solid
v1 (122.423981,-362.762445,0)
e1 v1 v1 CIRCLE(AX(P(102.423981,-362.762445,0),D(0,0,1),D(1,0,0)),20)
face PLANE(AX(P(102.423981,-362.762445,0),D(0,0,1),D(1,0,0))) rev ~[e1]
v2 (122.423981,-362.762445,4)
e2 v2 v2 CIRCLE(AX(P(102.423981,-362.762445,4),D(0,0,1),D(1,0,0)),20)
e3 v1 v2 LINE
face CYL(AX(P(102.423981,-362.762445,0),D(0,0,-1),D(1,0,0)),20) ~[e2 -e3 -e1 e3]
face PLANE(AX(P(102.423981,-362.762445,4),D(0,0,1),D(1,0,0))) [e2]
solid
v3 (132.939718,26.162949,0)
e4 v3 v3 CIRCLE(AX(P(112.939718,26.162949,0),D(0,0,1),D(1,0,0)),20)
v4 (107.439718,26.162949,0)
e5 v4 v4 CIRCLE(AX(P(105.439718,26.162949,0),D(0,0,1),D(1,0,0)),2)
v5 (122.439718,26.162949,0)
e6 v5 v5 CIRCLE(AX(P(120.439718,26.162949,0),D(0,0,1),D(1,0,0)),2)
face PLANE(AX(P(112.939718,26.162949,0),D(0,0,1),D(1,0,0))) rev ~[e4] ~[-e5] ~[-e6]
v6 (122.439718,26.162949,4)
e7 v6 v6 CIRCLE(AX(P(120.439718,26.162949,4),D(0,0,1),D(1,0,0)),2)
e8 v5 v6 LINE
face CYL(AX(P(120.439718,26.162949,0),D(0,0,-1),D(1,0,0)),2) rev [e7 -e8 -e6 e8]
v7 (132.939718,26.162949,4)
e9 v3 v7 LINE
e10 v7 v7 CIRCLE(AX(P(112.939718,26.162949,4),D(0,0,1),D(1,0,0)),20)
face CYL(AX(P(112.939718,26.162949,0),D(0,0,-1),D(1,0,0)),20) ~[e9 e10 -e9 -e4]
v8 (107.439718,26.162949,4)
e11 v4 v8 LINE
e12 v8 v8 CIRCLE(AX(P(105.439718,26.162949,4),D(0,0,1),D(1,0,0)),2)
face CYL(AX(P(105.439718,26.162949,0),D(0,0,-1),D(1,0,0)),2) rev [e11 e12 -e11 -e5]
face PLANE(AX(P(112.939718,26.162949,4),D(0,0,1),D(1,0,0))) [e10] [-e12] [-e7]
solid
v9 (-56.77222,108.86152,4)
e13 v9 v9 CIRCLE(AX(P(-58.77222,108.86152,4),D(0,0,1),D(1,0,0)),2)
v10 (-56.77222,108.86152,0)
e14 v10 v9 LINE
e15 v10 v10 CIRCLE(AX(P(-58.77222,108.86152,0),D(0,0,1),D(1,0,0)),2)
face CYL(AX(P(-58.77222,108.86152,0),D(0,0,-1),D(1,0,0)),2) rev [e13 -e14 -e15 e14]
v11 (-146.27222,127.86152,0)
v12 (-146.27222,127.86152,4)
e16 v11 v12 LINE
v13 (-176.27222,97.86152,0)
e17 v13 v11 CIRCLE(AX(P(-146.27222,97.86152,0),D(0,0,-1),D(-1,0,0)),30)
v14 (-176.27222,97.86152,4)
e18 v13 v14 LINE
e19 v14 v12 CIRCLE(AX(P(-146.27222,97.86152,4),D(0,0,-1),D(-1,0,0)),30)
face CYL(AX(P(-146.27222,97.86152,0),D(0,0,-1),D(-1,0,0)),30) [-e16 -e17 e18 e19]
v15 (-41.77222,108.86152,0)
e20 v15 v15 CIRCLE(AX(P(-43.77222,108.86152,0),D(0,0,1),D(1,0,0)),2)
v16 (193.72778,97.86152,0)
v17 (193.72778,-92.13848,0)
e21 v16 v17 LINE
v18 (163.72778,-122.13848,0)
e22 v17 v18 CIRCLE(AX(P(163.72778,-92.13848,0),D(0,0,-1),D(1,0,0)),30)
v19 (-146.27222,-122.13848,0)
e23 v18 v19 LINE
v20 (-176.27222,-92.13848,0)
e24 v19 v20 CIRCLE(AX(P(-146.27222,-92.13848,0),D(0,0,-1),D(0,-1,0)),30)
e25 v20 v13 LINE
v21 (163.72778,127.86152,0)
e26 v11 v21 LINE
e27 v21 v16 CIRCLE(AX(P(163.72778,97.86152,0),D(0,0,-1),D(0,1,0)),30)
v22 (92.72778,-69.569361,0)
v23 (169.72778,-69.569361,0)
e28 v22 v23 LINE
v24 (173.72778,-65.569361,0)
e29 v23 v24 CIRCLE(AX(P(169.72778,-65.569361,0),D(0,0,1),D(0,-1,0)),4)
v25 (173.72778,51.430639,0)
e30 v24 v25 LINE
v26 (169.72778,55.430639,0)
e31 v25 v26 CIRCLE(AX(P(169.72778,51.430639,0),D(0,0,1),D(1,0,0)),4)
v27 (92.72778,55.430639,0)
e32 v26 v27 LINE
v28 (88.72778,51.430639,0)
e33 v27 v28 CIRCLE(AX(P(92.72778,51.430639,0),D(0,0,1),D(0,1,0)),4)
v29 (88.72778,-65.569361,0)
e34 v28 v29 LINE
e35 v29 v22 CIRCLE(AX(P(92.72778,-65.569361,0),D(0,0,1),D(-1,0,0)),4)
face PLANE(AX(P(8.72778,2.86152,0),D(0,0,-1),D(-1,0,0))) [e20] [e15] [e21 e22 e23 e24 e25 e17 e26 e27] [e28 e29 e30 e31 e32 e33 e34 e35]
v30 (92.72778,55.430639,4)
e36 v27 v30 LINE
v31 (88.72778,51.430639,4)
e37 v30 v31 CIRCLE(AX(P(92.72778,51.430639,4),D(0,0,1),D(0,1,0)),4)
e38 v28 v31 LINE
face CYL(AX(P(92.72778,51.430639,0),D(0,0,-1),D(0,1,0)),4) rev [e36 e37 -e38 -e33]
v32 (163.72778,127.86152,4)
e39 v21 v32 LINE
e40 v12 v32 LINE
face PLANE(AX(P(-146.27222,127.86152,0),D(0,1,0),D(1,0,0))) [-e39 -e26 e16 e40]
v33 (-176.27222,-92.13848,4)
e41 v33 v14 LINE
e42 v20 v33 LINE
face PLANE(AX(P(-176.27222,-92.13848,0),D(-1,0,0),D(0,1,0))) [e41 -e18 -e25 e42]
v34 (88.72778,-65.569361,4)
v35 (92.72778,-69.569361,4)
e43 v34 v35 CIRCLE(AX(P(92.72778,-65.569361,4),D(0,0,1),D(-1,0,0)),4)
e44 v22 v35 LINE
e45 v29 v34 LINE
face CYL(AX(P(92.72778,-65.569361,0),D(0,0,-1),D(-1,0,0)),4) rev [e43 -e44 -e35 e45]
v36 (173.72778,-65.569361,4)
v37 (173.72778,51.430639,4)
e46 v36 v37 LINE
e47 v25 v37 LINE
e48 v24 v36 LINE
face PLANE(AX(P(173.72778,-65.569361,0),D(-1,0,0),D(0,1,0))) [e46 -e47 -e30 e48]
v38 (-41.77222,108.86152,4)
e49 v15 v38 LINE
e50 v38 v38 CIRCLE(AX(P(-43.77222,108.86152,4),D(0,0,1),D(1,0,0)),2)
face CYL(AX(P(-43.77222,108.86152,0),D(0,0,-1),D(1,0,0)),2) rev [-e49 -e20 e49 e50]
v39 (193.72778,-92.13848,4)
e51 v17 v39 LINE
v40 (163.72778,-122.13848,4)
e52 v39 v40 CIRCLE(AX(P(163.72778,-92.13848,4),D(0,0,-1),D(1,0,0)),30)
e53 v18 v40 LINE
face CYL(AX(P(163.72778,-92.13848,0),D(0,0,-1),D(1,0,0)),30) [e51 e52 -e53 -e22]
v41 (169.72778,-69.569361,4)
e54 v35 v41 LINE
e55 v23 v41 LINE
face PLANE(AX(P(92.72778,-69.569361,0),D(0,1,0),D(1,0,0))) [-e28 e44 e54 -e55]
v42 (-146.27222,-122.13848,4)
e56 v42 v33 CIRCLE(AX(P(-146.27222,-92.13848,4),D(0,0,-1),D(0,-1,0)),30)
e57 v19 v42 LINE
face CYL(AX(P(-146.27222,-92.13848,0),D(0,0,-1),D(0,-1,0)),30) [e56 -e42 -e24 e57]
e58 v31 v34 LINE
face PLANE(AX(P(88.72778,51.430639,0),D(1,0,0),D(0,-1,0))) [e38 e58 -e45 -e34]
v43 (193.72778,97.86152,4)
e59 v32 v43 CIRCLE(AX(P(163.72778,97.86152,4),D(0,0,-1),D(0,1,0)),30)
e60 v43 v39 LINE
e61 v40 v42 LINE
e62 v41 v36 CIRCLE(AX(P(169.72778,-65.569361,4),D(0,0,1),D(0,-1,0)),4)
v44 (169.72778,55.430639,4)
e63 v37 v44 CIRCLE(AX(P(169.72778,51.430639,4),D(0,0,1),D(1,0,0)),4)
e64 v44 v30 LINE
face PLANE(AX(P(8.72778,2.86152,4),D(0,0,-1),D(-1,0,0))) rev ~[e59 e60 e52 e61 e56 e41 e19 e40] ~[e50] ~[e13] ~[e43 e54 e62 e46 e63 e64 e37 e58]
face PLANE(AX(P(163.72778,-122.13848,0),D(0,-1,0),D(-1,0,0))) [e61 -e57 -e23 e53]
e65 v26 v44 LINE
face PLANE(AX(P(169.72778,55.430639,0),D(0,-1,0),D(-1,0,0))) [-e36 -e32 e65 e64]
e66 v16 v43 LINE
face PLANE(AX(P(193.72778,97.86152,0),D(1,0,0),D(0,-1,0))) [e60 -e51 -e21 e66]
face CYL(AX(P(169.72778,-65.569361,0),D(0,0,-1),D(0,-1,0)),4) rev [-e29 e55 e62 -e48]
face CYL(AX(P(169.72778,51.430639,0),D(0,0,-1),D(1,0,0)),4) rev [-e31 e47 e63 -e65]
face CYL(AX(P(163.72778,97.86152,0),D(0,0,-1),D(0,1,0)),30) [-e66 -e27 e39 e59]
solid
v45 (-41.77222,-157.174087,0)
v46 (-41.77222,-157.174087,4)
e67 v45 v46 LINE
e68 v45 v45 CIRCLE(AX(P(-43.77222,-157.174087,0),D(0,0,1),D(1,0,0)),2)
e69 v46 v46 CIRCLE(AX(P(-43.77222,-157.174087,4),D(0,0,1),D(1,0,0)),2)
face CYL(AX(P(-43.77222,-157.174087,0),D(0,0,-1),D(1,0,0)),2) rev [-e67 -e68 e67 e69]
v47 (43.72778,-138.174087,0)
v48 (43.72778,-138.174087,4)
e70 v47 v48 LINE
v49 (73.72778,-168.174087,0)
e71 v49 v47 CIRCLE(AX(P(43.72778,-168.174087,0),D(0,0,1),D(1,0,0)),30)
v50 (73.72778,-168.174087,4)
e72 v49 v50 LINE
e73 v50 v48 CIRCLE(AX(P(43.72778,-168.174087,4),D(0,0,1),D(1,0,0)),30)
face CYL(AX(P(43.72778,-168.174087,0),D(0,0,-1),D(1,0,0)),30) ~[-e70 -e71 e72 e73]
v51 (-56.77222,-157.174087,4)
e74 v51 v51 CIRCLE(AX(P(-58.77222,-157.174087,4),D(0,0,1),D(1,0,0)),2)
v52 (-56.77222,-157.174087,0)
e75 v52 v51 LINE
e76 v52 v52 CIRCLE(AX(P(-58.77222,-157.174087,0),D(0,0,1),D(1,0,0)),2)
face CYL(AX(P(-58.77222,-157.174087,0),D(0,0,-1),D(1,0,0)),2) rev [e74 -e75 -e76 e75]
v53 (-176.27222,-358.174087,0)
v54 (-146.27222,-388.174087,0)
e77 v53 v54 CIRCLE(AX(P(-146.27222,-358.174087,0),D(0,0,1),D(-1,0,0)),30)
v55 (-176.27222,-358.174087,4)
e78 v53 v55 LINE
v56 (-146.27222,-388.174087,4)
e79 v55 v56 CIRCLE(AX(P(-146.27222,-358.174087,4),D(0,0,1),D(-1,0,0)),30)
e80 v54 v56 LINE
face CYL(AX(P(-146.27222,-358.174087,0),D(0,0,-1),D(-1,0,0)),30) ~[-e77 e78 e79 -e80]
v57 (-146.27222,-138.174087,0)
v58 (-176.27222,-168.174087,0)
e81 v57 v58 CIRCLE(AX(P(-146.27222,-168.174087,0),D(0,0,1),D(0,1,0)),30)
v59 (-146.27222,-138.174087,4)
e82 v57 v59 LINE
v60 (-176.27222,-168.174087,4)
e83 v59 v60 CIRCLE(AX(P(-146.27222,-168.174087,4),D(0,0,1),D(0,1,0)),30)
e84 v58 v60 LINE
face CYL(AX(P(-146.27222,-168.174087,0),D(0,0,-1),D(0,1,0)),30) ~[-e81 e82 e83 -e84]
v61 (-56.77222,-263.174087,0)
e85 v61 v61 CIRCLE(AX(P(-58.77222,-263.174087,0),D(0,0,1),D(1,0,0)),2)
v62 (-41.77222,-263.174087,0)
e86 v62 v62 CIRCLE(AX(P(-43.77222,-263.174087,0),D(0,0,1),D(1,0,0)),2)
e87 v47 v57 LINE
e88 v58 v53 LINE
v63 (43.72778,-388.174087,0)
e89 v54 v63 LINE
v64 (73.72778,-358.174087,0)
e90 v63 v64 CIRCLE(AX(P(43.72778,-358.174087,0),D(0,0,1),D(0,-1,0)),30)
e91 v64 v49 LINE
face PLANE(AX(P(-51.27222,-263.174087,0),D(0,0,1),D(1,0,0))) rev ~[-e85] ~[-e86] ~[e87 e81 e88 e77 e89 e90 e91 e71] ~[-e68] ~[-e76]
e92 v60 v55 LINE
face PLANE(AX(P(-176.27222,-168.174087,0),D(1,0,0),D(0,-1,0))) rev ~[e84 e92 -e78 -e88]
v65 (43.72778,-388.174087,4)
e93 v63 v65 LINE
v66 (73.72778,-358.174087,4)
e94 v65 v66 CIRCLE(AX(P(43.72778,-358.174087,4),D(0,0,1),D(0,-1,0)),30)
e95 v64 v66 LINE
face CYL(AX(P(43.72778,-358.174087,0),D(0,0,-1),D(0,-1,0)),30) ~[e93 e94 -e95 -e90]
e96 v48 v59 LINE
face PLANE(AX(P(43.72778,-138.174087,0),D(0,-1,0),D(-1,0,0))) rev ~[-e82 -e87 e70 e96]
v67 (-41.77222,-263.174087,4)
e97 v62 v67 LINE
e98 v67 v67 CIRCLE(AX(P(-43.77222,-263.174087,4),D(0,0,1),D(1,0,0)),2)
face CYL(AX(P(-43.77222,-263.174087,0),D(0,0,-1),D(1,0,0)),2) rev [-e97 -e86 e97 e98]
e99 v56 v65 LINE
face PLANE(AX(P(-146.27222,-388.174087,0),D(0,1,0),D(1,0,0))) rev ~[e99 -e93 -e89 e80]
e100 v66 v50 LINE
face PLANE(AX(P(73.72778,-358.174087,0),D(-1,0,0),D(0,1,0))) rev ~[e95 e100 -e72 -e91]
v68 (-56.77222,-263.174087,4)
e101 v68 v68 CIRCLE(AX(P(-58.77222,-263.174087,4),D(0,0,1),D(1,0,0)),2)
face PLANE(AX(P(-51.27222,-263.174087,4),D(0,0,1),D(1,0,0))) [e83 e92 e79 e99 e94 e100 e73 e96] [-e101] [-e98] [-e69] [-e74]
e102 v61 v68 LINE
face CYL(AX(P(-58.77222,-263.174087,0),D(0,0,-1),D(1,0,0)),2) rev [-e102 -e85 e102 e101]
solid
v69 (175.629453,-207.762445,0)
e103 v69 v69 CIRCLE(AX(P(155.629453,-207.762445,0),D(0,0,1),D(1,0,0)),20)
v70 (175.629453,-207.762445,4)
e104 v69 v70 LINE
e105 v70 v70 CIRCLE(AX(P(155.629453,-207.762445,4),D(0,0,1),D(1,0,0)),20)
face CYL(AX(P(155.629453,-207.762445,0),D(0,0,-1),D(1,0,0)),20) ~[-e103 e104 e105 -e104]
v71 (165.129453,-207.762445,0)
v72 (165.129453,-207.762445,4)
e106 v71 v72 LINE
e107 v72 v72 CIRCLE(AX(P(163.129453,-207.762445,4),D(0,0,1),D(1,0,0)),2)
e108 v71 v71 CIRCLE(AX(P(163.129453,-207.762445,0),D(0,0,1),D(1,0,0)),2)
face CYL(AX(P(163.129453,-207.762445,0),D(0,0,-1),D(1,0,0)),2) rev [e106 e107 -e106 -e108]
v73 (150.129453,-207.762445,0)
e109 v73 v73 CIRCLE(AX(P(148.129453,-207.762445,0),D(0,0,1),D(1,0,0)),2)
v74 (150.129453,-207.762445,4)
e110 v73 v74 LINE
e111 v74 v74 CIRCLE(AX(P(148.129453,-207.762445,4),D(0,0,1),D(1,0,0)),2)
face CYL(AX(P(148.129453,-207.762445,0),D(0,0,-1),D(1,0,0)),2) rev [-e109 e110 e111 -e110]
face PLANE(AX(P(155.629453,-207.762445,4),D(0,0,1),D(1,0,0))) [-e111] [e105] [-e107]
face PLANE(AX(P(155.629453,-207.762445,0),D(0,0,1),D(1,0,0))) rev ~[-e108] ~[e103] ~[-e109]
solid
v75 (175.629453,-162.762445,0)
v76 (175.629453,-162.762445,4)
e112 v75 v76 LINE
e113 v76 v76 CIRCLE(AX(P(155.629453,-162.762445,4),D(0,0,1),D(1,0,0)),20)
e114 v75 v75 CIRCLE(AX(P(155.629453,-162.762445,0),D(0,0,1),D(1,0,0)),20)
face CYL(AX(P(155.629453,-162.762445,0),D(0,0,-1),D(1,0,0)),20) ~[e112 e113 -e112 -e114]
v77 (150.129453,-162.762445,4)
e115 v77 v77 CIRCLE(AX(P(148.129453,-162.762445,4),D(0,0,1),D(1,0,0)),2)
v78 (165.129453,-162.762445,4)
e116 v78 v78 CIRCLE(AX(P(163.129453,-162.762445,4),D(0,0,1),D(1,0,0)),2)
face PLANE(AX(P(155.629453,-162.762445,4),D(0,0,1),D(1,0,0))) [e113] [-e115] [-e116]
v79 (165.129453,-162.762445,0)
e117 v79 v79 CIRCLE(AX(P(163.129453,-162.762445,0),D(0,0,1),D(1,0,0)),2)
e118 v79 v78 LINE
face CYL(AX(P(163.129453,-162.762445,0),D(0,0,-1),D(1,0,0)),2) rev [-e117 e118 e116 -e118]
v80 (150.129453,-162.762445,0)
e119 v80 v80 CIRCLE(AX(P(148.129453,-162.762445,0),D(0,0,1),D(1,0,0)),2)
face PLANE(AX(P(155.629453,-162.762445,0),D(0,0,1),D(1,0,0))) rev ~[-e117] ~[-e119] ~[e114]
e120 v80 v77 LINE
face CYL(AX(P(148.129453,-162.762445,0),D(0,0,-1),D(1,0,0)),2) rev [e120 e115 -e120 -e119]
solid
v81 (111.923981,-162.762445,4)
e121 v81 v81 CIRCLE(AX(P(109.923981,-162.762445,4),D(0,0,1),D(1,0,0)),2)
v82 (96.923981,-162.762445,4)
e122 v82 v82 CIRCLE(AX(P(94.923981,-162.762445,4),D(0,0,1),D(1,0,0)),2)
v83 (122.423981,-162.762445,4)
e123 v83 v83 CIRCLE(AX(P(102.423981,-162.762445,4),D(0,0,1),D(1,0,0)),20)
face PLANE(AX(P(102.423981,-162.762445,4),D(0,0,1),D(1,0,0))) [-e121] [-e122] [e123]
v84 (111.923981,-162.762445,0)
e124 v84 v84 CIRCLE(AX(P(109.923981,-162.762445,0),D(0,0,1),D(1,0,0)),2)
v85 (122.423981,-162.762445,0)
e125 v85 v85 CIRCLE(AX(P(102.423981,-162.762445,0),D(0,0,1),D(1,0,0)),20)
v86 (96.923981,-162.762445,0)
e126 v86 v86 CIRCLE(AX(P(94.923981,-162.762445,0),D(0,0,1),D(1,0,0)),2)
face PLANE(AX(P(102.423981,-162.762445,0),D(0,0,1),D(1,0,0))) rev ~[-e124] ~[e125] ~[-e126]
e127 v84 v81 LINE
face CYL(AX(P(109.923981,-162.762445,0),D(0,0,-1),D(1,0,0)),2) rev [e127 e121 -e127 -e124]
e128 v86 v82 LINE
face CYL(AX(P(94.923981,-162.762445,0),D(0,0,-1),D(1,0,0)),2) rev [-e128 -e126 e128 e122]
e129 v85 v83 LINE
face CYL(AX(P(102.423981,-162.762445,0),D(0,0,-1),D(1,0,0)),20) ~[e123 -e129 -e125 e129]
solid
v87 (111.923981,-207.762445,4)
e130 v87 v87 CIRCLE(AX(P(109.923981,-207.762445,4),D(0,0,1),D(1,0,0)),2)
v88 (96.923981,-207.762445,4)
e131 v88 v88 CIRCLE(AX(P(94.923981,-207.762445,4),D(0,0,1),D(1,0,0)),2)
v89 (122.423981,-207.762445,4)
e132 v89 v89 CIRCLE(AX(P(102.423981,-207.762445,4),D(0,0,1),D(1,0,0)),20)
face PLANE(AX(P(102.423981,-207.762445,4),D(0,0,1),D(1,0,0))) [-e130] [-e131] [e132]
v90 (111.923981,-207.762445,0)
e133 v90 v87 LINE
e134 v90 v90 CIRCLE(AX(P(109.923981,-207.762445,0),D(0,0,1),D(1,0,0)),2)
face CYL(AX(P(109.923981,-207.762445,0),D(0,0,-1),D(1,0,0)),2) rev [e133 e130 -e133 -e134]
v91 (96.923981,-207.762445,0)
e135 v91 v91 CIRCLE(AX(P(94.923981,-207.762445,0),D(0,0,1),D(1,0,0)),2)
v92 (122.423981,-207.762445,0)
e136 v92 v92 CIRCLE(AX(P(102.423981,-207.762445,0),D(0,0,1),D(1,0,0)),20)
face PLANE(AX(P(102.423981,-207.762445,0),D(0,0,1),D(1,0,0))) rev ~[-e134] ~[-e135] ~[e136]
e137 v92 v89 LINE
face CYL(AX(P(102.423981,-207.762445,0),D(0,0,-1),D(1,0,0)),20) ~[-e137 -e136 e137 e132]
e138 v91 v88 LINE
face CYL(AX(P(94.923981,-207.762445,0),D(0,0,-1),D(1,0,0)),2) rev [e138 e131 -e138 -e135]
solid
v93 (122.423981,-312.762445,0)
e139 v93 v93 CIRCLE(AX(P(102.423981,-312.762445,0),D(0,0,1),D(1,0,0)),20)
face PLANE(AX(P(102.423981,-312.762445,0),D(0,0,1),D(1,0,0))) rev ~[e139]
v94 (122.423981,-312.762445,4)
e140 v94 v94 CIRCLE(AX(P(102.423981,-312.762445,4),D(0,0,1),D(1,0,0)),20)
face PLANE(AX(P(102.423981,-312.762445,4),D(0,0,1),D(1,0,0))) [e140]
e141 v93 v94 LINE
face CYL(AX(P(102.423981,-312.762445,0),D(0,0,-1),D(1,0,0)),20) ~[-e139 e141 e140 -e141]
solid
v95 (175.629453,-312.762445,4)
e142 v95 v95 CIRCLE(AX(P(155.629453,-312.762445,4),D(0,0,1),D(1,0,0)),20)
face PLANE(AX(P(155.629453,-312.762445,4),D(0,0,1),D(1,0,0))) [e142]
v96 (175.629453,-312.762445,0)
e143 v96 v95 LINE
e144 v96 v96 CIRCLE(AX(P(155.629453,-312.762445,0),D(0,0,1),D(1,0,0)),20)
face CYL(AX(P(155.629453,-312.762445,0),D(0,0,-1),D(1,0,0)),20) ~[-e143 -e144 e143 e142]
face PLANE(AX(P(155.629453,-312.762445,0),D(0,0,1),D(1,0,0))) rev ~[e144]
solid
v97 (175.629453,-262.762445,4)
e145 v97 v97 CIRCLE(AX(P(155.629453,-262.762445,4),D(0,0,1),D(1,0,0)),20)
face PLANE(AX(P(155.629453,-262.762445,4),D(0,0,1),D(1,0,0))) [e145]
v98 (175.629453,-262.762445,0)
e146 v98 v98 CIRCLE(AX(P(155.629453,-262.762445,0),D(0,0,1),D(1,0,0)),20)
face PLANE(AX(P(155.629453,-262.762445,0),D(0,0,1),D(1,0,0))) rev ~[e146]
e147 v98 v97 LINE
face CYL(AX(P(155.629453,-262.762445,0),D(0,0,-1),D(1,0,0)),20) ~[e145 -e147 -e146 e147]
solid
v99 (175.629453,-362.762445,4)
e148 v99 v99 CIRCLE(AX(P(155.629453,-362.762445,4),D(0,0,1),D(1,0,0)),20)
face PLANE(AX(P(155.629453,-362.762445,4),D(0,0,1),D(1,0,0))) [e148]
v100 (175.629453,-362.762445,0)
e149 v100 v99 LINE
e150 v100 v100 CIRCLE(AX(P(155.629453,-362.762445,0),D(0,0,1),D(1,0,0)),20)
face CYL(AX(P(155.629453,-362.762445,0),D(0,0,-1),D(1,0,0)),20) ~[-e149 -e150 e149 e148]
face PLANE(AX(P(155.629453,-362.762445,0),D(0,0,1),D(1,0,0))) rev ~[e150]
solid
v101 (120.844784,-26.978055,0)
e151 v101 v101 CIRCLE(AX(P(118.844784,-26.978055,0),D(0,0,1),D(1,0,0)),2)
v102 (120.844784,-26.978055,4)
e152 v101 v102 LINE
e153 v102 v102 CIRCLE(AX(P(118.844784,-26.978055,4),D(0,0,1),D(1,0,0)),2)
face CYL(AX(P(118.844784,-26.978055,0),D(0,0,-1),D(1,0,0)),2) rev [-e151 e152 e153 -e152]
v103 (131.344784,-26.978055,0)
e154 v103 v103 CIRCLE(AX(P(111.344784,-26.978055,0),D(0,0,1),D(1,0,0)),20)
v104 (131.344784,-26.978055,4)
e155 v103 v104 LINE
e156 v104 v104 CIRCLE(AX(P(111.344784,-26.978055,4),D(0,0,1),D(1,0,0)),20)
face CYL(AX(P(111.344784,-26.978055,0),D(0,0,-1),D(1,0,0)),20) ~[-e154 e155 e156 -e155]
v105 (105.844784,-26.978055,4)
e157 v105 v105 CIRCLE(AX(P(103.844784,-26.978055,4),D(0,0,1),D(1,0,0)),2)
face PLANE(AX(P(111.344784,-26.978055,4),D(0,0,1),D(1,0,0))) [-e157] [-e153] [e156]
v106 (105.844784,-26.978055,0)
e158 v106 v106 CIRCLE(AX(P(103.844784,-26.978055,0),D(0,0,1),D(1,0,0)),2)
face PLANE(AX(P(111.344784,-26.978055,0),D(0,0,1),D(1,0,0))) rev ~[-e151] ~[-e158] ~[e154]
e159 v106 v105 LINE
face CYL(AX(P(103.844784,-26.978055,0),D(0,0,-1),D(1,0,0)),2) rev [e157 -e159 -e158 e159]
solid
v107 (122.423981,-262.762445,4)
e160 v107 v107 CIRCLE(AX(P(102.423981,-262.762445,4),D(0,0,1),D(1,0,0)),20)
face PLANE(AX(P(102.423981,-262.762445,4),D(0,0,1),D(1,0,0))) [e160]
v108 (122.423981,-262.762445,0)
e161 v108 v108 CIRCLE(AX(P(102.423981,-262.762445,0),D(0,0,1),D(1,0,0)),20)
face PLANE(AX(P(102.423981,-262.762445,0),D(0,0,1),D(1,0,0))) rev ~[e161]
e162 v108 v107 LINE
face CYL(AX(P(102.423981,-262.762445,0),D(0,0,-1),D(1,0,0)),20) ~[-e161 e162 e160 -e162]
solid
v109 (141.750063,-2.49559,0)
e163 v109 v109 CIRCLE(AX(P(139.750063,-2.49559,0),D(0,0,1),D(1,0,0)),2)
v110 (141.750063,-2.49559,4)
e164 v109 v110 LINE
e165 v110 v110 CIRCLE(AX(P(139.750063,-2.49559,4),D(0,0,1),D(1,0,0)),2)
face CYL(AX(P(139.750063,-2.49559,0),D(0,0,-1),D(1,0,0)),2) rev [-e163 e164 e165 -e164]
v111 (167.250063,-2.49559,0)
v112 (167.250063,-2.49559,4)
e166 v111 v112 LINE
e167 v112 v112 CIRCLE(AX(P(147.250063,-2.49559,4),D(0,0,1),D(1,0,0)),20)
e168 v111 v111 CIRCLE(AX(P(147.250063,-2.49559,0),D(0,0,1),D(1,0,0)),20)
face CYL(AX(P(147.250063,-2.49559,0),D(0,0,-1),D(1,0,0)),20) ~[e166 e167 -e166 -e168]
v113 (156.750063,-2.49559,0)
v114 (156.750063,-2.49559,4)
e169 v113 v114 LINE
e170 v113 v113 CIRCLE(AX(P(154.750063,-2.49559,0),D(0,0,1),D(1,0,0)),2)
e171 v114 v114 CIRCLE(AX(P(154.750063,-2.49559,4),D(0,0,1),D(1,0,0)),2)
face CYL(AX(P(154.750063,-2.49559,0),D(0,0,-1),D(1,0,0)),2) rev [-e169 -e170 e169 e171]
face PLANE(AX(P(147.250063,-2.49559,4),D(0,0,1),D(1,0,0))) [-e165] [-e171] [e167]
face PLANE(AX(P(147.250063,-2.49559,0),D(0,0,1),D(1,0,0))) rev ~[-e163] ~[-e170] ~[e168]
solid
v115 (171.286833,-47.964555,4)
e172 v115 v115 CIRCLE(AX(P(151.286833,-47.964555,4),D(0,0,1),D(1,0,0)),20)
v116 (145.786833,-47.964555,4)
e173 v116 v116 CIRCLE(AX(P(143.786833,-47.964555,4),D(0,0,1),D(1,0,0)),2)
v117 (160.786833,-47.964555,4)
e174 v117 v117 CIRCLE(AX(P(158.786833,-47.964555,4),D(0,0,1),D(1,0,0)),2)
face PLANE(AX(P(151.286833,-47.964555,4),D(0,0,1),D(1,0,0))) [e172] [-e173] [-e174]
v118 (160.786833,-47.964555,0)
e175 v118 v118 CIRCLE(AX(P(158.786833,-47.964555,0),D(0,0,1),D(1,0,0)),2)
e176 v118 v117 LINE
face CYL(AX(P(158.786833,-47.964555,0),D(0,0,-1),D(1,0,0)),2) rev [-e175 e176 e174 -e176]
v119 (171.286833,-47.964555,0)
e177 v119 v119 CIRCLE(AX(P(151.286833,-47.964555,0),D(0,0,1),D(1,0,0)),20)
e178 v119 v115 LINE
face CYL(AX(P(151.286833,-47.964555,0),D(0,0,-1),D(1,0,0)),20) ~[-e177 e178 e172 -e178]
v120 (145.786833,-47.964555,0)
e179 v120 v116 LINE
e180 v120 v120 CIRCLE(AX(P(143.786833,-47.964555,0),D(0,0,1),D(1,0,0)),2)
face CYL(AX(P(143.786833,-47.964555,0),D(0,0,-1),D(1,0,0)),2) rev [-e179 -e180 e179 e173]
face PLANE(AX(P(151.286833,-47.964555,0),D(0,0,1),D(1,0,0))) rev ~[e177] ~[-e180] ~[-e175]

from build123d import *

# Parameters (mm, degrees)
SKETCH1_R              = 2
BOSS_EXTRUDE1_DEPTH    = 4
SKETCH1_R_2            = 20
BOSS_EXTRUDE1_2_DEPTH  = 4
BOSS_EXTRUDE1_3_DEPTH  = 4
BOSS_EXTRUDE1_4_DEPTH  = 4
BOSS_EXTRUDE1_5_DEPTH  = 4
BOSS_EXTRUDE1_6_DEPTH  = 4
BOSS_EXTRUDE1_7_DEPTH  = 4
BOSS_EXTRUDE1_8_DEPTH  = 4
BOSS_EXTRUDE1_9_DEPTH  = 4
BOSS_EXTRUDE1_10_DEPTH = 4
BOSS_EXTRUDE1_11_DEPTH = 4
BOSS_EXTRUDE1_12_DEPTH = 4
BOSS_EXTRUDE1_13_DEPTH = 4
BOSS_EXTRUDE1_14_DEPTH = 4
BOSS_EXTRUDE1_15_DEPTH = 4
BOSS_EXTRUDE1_16_DEPTH = 4


with BuildPart() as part:
    # Sketch1 → Boss-Extrude1 (new body)
    with BuildSketch(Plane.XY):
        with BuildLine():
            ThreePointArc((-146.272220159, -122.138479683), (-167.485423594, -113.351683118), (-176.272220159, -92.138479683))
            Line((-176.272220159, -92.138479683), (-176.272220159, 97.861520317))
            ThreePointArc((-176.272220159, 97.861520317), (-167.485423594, 119.074723753), (-146.272220159, 127.861520317))
            Line((-146.272220159, 127.861520317), (163.727779841, 127.861520317))
            ThreePointArc((163.727779841, 127.861520317), (184.940983277, 119.074723753), (193.727779841, 97.861520317))
            Line((193.727779841, 97.861520317), (193.727779841, -92.138479683))
            ThreePointArc((193.727779841, -92.138479683), (184.940983277, -113.351683118), (163.727779841, -122.138479683))
            Line((163.727779841, -122.138479683), (-146.272220159, -122.138479683))
        make_face()
        with Locations((-43.772220159, 108.861520317)):
            Circle(SKETCH1_R, mode=Mode.SUBTRACT)
        with Locations((-58.772220159, 108.861520317)):
            Circle(SKETCH1_R, mode=Mode.SUBTRACT)
        with BuildLine():
            ThreePointArc((92.727779841, 55.430639332), (89.899352716, 54.259066457), (88.727779841, 51.430639332))
            Line((88.727779841, 51.430639332), (88.727779841, -65.569360668))
            ThreePointArc((88.727779841, -65.569360668), (89.899352716, -68.397787792), (92.727779841, -69.569360668))
            Line((92.727779841, -69.569360668), (169.727779841, -69.569360668))
            ThreePointArc((169.727779841, -69.569360668), (172.556206966, -68.397787792), (173.727779841, -65.569360668))
            Line((173.727779841, -65.569360668), (173.727779841, 51.430639332))
            ThreePointArc((173.727779841, 51.430639332), (172.556206966, 54.259066457), (169.727779841, 55.430639332))
            Line((169.727779841, 55.430639332), (92.727779841, 55.430639332))
        make_face(mode=Mode.SUBTRACT)
    extrude(amount=BOSS_EXTRUDE1_DEPTH)


with BuildPart() as body_2:
    # Sketch1 → Boss-Extrude1 2 (new body)
    with BuildSketch(Plane.XY):
        with Locations((111.344783821, -26.978054874)):
            Circle(SKETCH1_R_2)
        with Locations((103.844783821, -26.978054874)):
            Circle(SKETCH1_R, mode=Mode.SUBTRACT)
        with Locations((118.844783821, -26.978054874)):
            Circle(SKETCH1_R, mode=Mode.SUBTRACT)
    extrude(amount=BOSS_EXTRUDE1_2_DEPTH)


with BuildPart() as body_3:
    # Sketch1 → Boss-Extrude1 3 (new body)
    with BuildSketch(Plane.XY):
        with Locations((147.250062778, -2.495589984)):
            Circle(SKETCH1_R_2)
        with Locations((154.750062778, -2.495589984)):
            Circle(SKETCH1_R, mode=Mode.SUBTRACT)
        with Locations((139.750062778, -2.495589984)):
            Circle(SKETCH1_R, mode=Mode.SUBTRACT)
    extrude(amount=BOSS_EXTRUDE1_3_DEPTH)


with BuildPart() as body_4:
    # Sketch1 → Boss-Extrude1 4 (new body)
    with BuildSketch(Plane.XY):
        with Locations((112.939718361, 26.162949135)):
            Circle(SKETCH1_R_2)
        with Locations((120.439718361, 26.162949135)):
            Circle(SKETCH1_R, mode=Mode.SUBTRACT)
        with Locations((105.439718361, 26.162949135)):
            Circle(SKETCH1_R, mode=Mode.SUBTRACT)
    extrude(amount=BOSS_EXTRUDE1_4_DEPTH)


with BuildPart() as body_5:
    # Sketch1 → Boss-Extrude1 5 (new body)
    with BuildSketch(Plane.XY):
        with Locations((151.286832857, -47.964555215)):
            Circle(SKETCH1_R_2)
        with Locations((158.786832857, -47.964555215)):
            Circle(SKETCH1_R, mode=Mode.SUBTRACT)
        with Locations((143.786832857, -47.964555215)):
            Circle(SKETCH1_R, mode=Mode.SUBTRACT)
    extrude(amount=BOSS_EXTRUDE1_5_DEPTH)


with BuildPart() as body_6:
    # Sketch1 → Boss-Extrude1 6 (new body)
    with BuildSketch(Plane.XY):
        with BuildLine():
            Line((43.727779841, -138.174086968), (-146.272220159, -138.174086968))
            ThreePointArc((-146.272220159, -138.174086968), (-167.485423594, -146.960883532), (-176.272220159, -168.174086968))
            Line((-176.272220159, -168.174086968), (-176.272220159, -358.174086968))
            ThreePointArc((-176.272220159, -358.174086968), (-167.485423594, -379.387290403), (-146.272220159, -388.174086968))
            Line((-146.272220159, -388.174086968), (43.727779841, -388.174086968))
            ThreePointArc((43.727779841, -388.174086968), (64.940983277, -379.387290403), (73.727779841, -358.174086968))
            Line((73.727779841, -358.174086968), (73.727779841, -168.174086968))
            ThreePointArc((73.727779841, -168.174086968), (64.940983277, -146.960883532), (43.727779841, -138.174086968))
        make_face()
        with Locations((-58.772220159, -263.174086968)):
            Circle(SKETCH1_R, mode=Mode.SUBTRACT)
        with Locations((-43.772220159, -263.174086968)):
            Circle(SKETCH1_R, mode=Mode.SUBTRACT)
        with Locations((-43.772220159, -157.174086968)):
            Circle(SKETCH1_R, mode=Mode.SUBTRACT)
        with Locations((-58.772220159, -157.174086968)):
            Circle(SKETCH1_R, mode=Mode.SUBTRACT)
    extrude(amount=BOSS_EXTRUDE1_6_DEPTH)


with BuildPart() as body_7:
    # Sketch1 → Boss-Extrude1 7 (new body)
    with BuildSketch(Plane.XY):
        with Locations((102.42398123, -162.762445388)):
            Circle(SKETCH1_R_2)
        with Locations((109.92398123, -162.762445388)):
            Circle(SKETCH1_R, mode=Mode.SUBTRACT)
        with Locations((94.92398123, -162.762445388)):
            Circle(SKETCH1_R, mode=Mode.SUBTRACT)
    extrude(amount=BOSS_EXTRUDE1_7_DEPTH)


with BuildPart() as body_8:
    # Sketch1 → Boss-Extrude1 8 (new body)
    with BuildSketch(Plane.XY):
        with Locations((155.629452788, -162.762445388)):
            Circle(SKETCH1_R_2)
        with Locations((163.129452788, -162.762445388)):
            Circle(SKETCH1_R, mode=Mode.SUBTRACT)
        with Locations((148.129452788, -162.762445388)):
            Circle(SKETCH1_R, mode=Mode.SUBTRACT)
    extrude(amount=BOSS_EXTRUDE1_8_DEPTH)


with BuildPart() as body_9:
    # Sketch1 → Boss-Extrude1 9 (new body)
    with BuildSketch(Plane.XY):
        with Locations((102.42398123, -207.762445388)):
            Circle(SKETCH1_R_2)
        with Locations((109.92398123, -207.762445388)):
            Circle(SKETCH1_R, mode=Mode.SUBTRACT)
        with Locations((94.92398123, -207.762445388)):
            Circle(SKETCH1_R, mode=Mode.SUBTRACT)
    extrude(amount=BOSS_EXTRUDE1_9_DEPTH)


with BuildPart() as body_10:
    # Sketch1 → Boss-Extrude1 10 (new body)
    with BuildSketch(Plane.XY):
        with Locations((155.629452788, -207.762445388)):
            Circle(SKETCH1_R_2)
        with Locations((163.129452788, -207.762445388)):
            Circle(SKETCH1_R, mode=Mode.SUBTRACT)
        with Locations((148.129452788, -207.762445388)):
            Circle(SKETCH1_R, mode=Mode.SUBTRACT)
    extrude(amount=BOSS_EXTRUDE1_10_DEPTH)


with BuildPart() as body_11:
    # Sketch1 → Boss-Extrude1 11 (new body)
    with BuildSketch(Plane.XY):
        with Locations((102.42398123, -262.762445388)):
            Circle(SKETCH1_R_2)
    extrude(amount=BOSS_EXTRUDE1_11_DEPTH)


with BuildPart() as body_12:
    # Sketch1 → Boss-Extrude1 12 (new body)
    with BuildSketch(Plane.XY):
        with Locations((155.629452788, -262.762445388)):
            Circle(SKETCH1_R_2)
    extrude(amount=BOSS_EXTRUDE1_12_DEPTH)


with BuildPart() as body_13:
    # Sketch1 → Boss-Extrude1 13 (new body)
    with BuildSketch(Plane.XY):
        with Locations((102.42398123, -312.762445388)):
            Circle(SKETCH1_R_2)
    extrude(amount=BOSS_EXTRUDE1_13_DEPTH)


with BuildPart() as body_14:
    # Sketch1 → Boss-Extrude1 14 (new body)
    with BuildSketch(Plane.XY):
        with Locations((155.629452788, -312.762445388)):
            Circle(SKETCH1_R_2)
    extrude(amount=BOSS_EXTRUDE1_14_DEPTH)


with BuildPart() as body_15:
    # Sketch1 → Boss-Extrude1 15 (new body)
    with BuildSketch(Plane.XY):
        with Locations((102.42398123, -362.762445388)):
            Circle(SKETCH1_R_2)
    extrude(amount=BOSS_EXTRUDE1_15_DEPTH)


with BuildPart() as body_16:
    # Sketch1 → Boss-Extrude1 16 (new body)
    with BuildSketch(Plane.XY):
        with Locations((155.629452788, -362.762445388)):
            Circle(SKETCH1_R_2)
    extrude(amount=BOSS_EXTRUDE1_16_DEPTH)


solid = Compound([part.part, body_2.part, body_3.part, body_4.part, body_5.part, body_6.part, body_7.part, body_8.part, body_9.part, body_10.part, body_11.part, body_12.part, body_13.part, body_14.part, body_15.part, body_16.part])
